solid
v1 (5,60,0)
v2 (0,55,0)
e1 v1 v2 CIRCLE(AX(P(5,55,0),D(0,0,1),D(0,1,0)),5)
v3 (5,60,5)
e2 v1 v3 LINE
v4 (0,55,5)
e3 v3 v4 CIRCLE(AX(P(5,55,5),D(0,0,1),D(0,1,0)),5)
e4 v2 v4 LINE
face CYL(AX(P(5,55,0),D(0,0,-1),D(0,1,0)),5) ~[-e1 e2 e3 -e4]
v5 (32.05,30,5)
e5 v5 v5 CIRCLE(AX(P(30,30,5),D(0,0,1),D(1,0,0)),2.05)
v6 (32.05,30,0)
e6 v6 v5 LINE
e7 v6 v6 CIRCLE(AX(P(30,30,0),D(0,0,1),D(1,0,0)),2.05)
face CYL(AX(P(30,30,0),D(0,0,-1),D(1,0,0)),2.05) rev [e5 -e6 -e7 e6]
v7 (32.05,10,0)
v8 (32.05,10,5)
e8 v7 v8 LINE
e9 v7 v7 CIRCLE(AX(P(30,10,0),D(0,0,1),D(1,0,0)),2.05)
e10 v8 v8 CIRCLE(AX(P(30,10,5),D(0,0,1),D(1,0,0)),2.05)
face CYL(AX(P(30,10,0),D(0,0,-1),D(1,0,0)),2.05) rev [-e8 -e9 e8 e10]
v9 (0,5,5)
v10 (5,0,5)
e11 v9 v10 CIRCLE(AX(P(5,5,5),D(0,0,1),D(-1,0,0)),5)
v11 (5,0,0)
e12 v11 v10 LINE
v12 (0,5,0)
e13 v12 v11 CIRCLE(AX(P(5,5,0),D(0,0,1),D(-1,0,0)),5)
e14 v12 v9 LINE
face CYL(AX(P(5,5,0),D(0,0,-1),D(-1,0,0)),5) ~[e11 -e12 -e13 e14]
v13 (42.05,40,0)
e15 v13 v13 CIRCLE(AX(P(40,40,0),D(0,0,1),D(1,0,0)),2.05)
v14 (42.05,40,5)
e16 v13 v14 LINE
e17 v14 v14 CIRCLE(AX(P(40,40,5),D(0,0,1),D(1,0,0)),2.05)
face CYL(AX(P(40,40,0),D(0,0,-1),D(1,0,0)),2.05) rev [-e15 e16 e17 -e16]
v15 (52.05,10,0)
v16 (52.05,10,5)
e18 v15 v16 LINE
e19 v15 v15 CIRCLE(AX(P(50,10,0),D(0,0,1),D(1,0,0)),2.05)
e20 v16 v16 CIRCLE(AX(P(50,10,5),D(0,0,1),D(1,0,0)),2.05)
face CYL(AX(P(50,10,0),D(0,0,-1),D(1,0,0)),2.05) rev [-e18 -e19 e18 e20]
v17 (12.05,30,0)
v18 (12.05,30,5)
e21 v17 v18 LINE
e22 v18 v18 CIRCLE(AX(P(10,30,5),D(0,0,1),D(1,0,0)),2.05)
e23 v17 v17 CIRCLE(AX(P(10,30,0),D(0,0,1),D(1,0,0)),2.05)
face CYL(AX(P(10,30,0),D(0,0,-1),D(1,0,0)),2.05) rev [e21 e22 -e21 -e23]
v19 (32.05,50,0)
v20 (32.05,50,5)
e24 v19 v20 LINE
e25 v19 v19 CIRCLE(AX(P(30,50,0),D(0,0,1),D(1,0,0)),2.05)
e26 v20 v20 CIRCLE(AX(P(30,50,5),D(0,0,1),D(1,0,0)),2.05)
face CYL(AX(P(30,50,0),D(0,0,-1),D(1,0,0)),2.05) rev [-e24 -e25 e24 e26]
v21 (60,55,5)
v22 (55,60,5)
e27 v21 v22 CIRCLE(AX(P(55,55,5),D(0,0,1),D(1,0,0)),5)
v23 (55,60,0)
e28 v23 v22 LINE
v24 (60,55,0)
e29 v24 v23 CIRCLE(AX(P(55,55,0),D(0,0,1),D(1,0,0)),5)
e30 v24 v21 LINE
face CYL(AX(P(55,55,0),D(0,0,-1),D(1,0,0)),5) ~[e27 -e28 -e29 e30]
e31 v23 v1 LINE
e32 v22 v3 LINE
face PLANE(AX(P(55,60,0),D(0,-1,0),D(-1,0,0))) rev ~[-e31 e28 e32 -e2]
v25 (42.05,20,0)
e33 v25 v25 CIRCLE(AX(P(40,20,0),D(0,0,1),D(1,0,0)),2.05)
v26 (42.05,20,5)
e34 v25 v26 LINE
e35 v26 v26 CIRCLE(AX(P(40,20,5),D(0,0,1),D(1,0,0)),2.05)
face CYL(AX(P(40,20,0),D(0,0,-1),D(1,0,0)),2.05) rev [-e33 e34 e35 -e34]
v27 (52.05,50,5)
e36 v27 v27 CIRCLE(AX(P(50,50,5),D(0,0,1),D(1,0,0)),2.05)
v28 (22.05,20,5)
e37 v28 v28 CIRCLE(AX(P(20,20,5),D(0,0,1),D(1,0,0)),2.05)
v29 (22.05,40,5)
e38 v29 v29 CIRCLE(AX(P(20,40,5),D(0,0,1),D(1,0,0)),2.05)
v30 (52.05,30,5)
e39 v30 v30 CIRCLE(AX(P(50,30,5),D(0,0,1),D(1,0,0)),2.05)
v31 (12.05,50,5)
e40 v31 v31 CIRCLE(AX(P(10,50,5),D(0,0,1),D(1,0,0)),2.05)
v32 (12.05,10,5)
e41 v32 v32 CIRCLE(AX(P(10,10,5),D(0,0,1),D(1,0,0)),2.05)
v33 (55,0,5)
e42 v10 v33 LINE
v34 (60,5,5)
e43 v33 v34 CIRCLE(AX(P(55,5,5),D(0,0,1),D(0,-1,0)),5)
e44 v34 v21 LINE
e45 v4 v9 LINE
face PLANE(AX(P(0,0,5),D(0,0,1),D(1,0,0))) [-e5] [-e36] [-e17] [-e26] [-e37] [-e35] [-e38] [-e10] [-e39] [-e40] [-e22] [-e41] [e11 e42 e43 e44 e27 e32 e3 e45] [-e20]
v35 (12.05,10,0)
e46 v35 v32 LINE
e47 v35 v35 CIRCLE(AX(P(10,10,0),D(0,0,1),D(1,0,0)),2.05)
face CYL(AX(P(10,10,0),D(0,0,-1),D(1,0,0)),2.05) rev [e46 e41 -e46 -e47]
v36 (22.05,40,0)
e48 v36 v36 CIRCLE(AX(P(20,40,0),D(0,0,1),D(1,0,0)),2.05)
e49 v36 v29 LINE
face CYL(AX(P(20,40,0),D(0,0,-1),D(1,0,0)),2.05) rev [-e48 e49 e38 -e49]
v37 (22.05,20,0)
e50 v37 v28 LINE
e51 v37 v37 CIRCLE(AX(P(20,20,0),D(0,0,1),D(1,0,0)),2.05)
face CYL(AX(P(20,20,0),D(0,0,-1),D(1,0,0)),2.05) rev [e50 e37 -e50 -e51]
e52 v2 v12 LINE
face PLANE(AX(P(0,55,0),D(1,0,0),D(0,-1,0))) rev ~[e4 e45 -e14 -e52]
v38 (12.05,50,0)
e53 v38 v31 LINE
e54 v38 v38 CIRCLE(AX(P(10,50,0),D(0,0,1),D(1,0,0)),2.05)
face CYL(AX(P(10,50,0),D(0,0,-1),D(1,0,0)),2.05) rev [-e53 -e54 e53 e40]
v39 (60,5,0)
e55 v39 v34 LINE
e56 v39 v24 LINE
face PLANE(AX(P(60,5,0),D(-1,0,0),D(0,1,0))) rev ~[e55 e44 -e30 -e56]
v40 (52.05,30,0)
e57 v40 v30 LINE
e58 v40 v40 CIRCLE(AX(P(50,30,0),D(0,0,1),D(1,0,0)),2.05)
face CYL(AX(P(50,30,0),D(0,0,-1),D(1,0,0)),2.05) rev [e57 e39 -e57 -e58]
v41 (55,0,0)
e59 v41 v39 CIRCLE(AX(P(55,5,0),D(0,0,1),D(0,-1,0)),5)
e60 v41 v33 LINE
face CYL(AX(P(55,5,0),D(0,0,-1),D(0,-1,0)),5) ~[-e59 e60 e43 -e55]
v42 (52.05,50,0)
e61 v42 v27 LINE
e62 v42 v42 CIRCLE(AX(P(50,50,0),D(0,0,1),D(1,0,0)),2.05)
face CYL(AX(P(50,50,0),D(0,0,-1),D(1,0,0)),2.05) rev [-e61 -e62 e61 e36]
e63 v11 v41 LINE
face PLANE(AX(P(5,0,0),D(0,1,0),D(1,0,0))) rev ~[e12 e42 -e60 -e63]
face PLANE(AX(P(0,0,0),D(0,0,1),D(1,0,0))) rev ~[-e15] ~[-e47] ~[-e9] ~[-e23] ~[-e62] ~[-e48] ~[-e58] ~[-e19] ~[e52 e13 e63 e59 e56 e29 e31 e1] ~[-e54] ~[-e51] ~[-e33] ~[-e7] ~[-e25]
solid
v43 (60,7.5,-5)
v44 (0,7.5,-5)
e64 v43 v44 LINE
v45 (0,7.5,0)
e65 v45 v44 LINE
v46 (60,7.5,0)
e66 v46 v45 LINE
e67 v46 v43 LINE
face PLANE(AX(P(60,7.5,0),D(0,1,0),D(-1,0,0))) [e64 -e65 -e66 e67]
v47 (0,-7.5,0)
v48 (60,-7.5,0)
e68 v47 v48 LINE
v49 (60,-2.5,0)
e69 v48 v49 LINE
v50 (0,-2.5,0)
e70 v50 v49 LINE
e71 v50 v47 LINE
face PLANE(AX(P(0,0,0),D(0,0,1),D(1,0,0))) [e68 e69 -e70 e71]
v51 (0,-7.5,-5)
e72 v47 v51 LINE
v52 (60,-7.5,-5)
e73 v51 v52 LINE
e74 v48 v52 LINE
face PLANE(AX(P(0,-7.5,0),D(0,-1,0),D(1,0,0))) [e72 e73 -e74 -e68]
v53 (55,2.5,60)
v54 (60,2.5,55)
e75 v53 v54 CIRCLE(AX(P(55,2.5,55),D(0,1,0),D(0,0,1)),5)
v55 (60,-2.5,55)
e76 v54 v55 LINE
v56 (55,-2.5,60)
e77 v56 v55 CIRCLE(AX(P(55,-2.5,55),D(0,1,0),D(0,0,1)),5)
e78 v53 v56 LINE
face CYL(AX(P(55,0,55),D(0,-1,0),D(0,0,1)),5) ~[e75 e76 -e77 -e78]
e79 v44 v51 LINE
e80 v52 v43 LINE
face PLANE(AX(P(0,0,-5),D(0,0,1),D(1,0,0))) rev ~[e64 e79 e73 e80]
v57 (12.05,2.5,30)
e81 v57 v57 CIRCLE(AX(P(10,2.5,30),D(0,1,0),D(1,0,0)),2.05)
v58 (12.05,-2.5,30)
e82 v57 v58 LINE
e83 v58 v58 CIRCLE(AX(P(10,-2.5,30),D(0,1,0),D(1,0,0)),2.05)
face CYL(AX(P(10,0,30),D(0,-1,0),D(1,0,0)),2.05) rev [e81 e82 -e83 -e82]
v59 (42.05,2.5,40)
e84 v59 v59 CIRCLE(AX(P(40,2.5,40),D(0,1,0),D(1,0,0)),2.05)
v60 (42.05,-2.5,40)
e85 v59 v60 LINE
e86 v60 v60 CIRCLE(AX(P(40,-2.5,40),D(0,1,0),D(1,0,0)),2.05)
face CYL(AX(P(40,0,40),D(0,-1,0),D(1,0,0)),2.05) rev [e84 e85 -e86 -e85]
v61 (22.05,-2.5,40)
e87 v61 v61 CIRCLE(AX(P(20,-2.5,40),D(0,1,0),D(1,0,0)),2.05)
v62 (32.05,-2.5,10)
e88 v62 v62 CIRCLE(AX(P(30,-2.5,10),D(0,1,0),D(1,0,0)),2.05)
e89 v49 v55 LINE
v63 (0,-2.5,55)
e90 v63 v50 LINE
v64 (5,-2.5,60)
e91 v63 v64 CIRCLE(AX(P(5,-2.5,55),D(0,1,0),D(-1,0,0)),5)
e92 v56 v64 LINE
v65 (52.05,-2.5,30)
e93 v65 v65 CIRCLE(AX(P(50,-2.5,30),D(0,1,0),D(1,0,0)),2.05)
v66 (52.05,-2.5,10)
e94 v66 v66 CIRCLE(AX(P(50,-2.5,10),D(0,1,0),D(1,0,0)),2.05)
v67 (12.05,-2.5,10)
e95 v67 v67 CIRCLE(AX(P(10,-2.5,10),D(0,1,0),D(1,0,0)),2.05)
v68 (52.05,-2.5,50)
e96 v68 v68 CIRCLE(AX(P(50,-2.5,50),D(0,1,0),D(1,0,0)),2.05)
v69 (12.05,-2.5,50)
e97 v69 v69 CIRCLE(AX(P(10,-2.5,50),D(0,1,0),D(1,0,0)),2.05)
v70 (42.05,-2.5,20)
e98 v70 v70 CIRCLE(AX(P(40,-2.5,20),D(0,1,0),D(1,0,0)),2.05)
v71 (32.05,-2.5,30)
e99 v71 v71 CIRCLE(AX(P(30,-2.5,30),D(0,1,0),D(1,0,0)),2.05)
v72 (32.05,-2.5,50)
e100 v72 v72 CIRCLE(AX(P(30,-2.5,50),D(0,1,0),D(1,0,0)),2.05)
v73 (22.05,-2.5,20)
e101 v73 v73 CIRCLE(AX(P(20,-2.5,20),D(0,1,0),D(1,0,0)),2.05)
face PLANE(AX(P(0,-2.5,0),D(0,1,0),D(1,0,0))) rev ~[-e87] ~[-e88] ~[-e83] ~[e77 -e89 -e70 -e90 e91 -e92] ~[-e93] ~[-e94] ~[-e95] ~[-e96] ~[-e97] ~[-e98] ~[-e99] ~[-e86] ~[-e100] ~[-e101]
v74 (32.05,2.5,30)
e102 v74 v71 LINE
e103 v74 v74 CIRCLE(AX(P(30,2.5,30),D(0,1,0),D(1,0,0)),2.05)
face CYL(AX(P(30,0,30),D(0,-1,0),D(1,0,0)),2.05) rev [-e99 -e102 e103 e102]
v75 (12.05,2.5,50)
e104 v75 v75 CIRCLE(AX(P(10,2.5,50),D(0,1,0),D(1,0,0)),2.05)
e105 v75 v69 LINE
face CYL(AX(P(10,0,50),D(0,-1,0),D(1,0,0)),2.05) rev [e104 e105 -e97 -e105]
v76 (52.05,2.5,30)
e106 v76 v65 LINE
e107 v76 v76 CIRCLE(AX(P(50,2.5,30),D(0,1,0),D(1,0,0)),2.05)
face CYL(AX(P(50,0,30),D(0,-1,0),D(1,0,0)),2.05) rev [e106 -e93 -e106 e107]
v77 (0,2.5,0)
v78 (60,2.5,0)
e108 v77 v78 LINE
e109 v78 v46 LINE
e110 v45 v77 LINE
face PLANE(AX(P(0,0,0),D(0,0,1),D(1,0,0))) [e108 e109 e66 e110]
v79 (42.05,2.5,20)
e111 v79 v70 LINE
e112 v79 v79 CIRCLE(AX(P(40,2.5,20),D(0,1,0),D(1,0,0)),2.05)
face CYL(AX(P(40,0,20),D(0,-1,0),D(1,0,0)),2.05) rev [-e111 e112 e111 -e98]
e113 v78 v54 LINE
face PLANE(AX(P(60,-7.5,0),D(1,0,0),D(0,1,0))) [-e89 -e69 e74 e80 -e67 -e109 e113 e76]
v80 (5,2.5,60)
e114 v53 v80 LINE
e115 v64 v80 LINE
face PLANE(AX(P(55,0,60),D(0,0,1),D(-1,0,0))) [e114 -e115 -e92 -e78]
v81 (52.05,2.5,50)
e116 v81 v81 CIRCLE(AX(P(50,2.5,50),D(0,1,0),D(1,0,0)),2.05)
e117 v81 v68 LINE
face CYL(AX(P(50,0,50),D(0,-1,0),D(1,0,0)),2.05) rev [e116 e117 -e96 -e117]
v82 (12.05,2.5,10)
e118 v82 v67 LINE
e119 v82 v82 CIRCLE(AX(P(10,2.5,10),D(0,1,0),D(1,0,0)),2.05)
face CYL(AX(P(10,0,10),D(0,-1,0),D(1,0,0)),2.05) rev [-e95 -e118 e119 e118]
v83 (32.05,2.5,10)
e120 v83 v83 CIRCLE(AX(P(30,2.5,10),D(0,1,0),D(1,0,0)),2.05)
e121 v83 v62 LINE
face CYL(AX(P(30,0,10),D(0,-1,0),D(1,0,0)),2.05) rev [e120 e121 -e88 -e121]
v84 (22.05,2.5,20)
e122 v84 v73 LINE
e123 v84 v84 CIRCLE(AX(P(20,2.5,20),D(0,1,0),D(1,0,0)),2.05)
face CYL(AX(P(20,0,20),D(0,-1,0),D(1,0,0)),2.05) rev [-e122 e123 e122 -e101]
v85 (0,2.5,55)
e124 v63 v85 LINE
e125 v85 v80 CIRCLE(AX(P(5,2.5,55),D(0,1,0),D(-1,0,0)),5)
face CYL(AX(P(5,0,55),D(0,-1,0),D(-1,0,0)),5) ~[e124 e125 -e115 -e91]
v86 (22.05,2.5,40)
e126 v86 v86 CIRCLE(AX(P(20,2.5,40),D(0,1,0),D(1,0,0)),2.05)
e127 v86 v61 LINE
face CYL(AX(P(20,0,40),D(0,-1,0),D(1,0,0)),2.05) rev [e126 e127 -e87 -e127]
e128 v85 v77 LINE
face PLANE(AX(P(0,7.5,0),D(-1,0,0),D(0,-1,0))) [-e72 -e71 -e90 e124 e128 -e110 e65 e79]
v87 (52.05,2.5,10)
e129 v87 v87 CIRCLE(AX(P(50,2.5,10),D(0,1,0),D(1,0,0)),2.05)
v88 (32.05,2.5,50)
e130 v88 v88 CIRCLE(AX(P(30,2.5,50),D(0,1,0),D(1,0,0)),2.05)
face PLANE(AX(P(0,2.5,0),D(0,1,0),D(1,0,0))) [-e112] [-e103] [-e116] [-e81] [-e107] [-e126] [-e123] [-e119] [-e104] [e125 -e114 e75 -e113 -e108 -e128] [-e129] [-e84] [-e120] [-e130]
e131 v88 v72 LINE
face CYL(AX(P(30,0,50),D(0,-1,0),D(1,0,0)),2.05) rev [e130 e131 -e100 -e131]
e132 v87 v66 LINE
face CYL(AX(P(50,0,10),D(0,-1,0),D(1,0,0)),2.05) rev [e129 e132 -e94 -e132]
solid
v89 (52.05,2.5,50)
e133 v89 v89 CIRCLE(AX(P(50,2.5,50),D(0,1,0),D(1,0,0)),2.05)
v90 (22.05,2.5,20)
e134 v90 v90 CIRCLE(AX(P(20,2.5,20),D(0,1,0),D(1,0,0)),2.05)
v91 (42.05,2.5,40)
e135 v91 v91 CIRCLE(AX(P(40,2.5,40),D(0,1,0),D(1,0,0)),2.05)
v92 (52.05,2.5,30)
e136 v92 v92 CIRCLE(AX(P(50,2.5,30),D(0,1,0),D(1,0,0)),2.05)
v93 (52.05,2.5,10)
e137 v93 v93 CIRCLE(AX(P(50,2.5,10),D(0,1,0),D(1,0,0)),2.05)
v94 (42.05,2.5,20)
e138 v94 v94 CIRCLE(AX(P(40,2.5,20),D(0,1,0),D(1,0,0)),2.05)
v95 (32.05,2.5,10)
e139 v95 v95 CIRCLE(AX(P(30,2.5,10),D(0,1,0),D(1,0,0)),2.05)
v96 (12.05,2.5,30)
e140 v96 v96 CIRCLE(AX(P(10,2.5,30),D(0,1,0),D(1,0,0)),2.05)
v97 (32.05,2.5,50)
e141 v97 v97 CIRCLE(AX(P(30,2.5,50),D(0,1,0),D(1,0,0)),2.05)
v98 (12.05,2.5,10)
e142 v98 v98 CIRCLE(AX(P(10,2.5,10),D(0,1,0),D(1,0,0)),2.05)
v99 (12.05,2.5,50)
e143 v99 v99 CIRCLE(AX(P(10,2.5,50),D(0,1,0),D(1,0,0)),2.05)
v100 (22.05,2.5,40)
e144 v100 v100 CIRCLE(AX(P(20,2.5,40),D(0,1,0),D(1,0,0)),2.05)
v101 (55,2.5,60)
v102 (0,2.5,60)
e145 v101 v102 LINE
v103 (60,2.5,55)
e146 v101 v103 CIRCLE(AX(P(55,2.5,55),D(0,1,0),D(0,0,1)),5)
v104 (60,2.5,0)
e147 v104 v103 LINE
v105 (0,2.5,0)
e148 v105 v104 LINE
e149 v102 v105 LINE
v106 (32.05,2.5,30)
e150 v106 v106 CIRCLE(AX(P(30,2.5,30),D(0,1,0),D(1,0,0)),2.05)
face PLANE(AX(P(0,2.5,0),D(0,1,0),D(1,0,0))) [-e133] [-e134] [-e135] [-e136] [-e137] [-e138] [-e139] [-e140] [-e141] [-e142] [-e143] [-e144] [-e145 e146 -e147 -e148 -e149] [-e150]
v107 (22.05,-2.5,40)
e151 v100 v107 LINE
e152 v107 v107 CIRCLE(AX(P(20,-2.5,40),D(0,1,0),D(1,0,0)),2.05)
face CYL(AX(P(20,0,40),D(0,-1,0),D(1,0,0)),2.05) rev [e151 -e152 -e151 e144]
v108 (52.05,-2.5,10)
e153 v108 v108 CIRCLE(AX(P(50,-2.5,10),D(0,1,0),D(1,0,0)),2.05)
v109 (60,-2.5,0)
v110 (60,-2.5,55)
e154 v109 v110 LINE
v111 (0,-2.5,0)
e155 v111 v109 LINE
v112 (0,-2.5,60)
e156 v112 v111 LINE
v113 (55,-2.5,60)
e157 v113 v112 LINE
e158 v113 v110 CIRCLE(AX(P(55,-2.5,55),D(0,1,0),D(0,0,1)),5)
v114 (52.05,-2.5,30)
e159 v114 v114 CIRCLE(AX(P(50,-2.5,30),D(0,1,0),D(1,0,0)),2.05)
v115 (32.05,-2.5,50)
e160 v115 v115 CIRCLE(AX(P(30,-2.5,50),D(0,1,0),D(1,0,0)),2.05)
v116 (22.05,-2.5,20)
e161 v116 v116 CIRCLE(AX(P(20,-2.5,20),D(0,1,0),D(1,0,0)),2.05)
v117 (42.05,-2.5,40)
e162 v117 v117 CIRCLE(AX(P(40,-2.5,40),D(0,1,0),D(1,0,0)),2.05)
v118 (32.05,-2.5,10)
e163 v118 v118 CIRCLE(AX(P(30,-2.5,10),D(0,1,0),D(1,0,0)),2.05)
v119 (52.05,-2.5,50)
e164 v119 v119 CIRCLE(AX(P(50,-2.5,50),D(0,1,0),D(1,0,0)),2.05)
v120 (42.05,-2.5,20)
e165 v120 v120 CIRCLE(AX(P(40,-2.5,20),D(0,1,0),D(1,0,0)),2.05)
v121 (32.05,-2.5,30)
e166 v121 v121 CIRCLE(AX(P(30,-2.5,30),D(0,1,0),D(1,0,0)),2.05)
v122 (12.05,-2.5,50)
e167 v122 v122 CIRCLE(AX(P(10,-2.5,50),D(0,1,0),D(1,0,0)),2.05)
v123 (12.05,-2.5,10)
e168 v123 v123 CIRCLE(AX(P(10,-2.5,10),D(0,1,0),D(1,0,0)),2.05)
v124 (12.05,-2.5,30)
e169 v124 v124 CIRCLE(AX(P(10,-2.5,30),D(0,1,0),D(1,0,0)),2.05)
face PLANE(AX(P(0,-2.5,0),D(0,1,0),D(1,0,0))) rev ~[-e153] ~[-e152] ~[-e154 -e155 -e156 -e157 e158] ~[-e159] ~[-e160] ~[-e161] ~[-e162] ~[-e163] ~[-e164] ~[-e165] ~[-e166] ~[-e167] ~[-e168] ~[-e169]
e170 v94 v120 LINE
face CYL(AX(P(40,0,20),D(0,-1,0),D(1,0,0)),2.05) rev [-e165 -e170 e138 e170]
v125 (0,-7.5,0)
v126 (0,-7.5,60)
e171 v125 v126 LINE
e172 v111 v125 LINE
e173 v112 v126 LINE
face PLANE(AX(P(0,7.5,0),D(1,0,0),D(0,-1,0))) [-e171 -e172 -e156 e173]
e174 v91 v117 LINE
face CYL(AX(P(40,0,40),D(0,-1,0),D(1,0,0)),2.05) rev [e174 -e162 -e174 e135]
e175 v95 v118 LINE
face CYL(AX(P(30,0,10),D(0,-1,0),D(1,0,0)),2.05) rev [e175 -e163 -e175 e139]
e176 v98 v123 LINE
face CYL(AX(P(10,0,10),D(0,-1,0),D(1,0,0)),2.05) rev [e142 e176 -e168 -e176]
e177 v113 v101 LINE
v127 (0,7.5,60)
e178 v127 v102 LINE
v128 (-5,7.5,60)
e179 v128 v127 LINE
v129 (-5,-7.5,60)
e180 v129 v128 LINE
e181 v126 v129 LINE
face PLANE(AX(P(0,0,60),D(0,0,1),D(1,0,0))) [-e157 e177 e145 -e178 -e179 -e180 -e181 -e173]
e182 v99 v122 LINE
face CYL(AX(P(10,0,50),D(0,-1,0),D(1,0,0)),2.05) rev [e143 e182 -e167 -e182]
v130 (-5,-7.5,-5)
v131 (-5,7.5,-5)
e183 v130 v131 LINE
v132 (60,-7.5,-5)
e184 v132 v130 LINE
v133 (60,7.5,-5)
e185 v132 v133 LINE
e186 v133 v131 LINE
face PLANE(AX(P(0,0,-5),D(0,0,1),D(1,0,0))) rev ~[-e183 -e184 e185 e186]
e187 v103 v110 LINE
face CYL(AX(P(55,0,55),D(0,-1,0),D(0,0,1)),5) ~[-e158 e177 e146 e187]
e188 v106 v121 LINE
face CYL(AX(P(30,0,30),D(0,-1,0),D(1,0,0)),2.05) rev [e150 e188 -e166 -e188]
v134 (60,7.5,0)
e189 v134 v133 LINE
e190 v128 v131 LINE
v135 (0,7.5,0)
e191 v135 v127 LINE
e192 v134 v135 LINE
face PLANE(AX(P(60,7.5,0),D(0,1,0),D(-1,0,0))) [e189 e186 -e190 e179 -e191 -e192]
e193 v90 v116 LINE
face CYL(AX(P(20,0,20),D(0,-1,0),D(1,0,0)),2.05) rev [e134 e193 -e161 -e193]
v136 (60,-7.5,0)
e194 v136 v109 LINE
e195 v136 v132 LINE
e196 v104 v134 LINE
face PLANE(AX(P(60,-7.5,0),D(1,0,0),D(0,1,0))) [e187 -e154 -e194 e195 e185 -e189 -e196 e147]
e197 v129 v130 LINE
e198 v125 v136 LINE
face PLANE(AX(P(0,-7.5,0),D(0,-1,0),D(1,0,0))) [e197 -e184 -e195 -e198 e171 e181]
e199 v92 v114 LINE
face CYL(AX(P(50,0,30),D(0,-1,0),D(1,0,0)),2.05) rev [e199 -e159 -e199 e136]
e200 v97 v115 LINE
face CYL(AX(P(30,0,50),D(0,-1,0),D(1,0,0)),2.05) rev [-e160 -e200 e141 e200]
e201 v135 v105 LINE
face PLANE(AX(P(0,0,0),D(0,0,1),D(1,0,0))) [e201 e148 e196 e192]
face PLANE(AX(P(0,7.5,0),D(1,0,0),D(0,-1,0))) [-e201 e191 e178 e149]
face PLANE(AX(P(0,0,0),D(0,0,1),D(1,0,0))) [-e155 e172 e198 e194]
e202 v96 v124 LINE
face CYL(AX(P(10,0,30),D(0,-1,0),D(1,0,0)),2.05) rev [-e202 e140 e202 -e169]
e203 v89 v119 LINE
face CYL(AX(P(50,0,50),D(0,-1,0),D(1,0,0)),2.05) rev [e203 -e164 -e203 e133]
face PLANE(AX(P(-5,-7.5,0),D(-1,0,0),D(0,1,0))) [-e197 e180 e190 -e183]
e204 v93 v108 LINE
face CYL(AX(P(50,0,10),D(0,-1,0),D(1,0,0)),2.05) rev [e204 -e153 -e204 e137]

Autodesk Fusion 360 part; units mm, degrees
sketch "Sketch1" plane through (0, 0, 0) normal (0, 0, 1) x (1, 0, 0) in component "inside"
  line L0 (5, 0) -> (55, 0)
  line L1 (60, 5) -> (60, 55)
  line L2 (55, 60) -> (5, 60)
  line L3 (0, 55) -> (0, 5)
  circle A0 centre (10, 10) radius 2.05
  circle A1 centre (30, 10) radius 2.05
  circle A2 centre (10, 30) radius 2.05
  circle A3 centre (30, 30) radius 2.05
  circle A4 centre (50, 10) radius 2.05
  circle A5 centre (50, 30) radius 2.05
  circle A6 centre (20, 40) radius 2.05
  circle A7 centre (40, 40) radius 2.05
  circle A8 centre (10, 50) radius 2.05
  circle A9 centre (30, 50) radius 2.05
  circle A10 centre (50, 50) radius 2.05
  arc A11 (5, 60) -> (0, 55) centre (5, 55) ccw
  arc A12 (60, 55) -> (55, 60) centre (55, 55) ccw
  arc A13 (55, 0) -> (60, 5) centre (55, 5) ccw
  arc A14 (0, 5) -> (5, 0) centre (5, 5) ccw
  circle A15 centre (10, 20) radius 2.05
  circle A16 centre (30, 20) radius 2.05
  circle A17 centre (50, 20) radius 2.05
  circle A18 centre (10, 40) radius 2.05
  circle A19 centre (30, 40) radius 2.05
  circle A20 centre (50, 40) radius 2.05
  circle A21 centre (20, 50) radius 2.05
  circle A22 centre (40, 50) radius 2.05
  circle A23 centre (20, 10) radius 2.05
  circle A24 centre (40, 10) radius 2.05
  circle A25 centre (20, 20) radius 2.05
  circle A26 centre (40, 20) radius 2.05
  circle A27 centre (20, 30) radius 2.05
  circle A28 centre (40, 30) radius 2.05
  dimension "d6" = 60
  dimension "d7" = 60
  dimension "d9" = 4.1
  dimension "d10" = 10
  dimension "d11" = 10
  dimension "d14" = 10
  dimension "d15" = 10
  dimension "d17" = 5
  dimension "d18" = 5
  dimension "d19" = 5
  dimension "d20" = 5
extrude "Extrude1" add sketch "Sketch1" along normal blind 5 contours L0 L1 L2 L3 A11 A12 A13 A14 | A15 | A16 | A17 | A18 | A19 | A20 | A21 | A22 | A23 | A24 | A27 | A28 makes body 1 in component "inside"
sketch "Sketch1 (2)" plane through (0, 0, 0) normal (0, 0, 1) x (1, 0, 0) in component "inoutside"
  line L0 (0, -7.5) -> (60, -7.5)
  line L1 (60, -7.5) -> (60, 7.5)
  line L2 (60, 7.5) -> (0, 7.5)
  line L3 (0, 7.5) -> (0, -7.5)
  dimension "d23" = 15
  dimension "d24" = 60
sketch "Sketch2" plane through (0, 0, 0) normal (0, 1, 0) x (1, 0, 0) in component "inoutside"
  line L0 (0, 0) -> (60, 0)
  line L1 (60, 0) -> (60, -55)
  line L2 (55, -60) -> (5, -60)
  line L3 (0, -55) -> (0, 0)
  circle A0 centre (10, -10) radius 2.05
  circle A1 centre (20, -10) radius 2.05
  circle A2 centre (30, -10) radius 2.05
  circle A3 centre (40, -10) radius 2.05
  circle A4 centre (50, -10) radius 2.05
  circle A5 centre (10, -20) radius 2.05
  circle A6 centre (20, -20) radius 2.05
  circle A7 centre (30, -20) radius 2.05
  circle A8 centre (40, -20) radius 2.05
  circle A9 centre (50, -20) radius 2.05
  circle A10 centre (10, -30) radius 2.05
  circle A11 centre (20, -30) radius 2.05
  circle A12 centre (30, -30) radius 2.05
  circle A13 centre (40, -30) radius 2.05
  circle A14 centre (50, -30) radius 2.05
  circle A15 centre (10, -40) radius 2.05
  circle A16 centre (20, -40) radius 2.05
  circle A17 centre (30, -40) radius 2.05
  circle A18 centre (40, -40) radius 2.05
  circle A19 centre (50, -40) radius 2.05
  circle A20 centre (10, -50) radius 2.05
  circle A21 centre (20, -50) radius 2.05
  circle A22 centre (30, -50) radius 2.05
  circle A23 centre (40, -50) radius 2.05
  circle A24 centre (50, -50) radius 2.05
  arc A25 (0, -55) -> (5, -60) centre (5, -55) ccw
  arc A26 (55, -60) -> (60, -55) centre (55, -55) ccw
  dimension "d25" = 60
  dimension "d26" = 60
  dimension "d27" = 4.1
  dimension "d28" = 10
  dimension "d29" = 10
  dimension "d32" = 10
  dimension "d34" = 5
  dimension "d35" = 5
extrude "Extrude1'" add sketch "Sketch2" along normal mid plane 5 separate body contours L0 L1 L2 L3 A25 A26 | A1 | A3 | A5 | A7 | A9 | A11 | A13 | A15 | A17 | A19 | A21 | A23 makes body 2 in component "inoutside"
extrude "Extrude2" add sketch "Sketch1 (2)" against normal blind 5 bodies 2 in component "inoutside"
sketch "Sketch1 (3)" plane through (0, 0, 0) normal (0, 0, 1) x (1, 0, 0) in component "outside"
  line L0 (0, -7.5) -> (60, -7.5)
  line L1 (60, -7.5) -> (60, 7.5)
  line L2 (60, 7.5) -> (0, 7.5)
  line L3 (0, 7.5) -> (0, -7.5)
  line L4 (0, -7.5) -> (-5, -7.5)
  line L5 (-5, -7.5) -> (-5, 7.5)
  line L6 (-5, 7.5) -> (0, 7.5)
  line L7 (0, 7.5) -> (0, -7.5)
  dimension "d23_1" = 15
  dimension "d24_1" = 60
  dimension "d40" = 5
sketch "Sketch2 (2)" plane through (0, 0, 0) normal (0, 1, 0) x (1, 0, 0) in component "outside"
  line L0 (0, 0) -> (60, 0)
  line L1 (60, 0) -> (60, -55)
  line L2 (55, -60) -> (0, -60)
  line L3 (0, -60) -> (0, 0)
  circle A0 centre (10, -10) radius 2.05
  circle A1 centre (20, -10) radius 2.05
  circle A2 centre (30, -10) radius 2.05
  circle A3 centre (40, -10) radius 2.05
  circle A4 centre (50, -10) radius 2.05
  circle A5 centre (10, -20) radius 2.05
  circle A6 centre (20, -20) radius 2.05
  circle A7 centre (30, -20) radius 2.05
  circle A8 centre (40, -20) radius 2.05
  circle A9 centre (50, -20) radius 2.05
  circle A10 centre (10, -30) radius 2.05
  circle A11 centre (20, -30) radius 2.05
  circle A12 centre (30, -30) radius 2.05
  circle A13 centre (40, -30) radius 2.05
  circle A14 centre (50, -30) radius 2.05
  circle A15 centre (10, -40) radius 2.05
  circle A16 centre (20, -40) radius 2.05
  circle A17 centre (30, -40) radius 2.05
  circle A18 centre (40, -40) radius 2.05
  circle A19 centre (50, -40) radius 2.05
  circle A20 centre (10, -50) radius 2.05
  circle A21 centre (20, -50) radius 2.05
  circle A22 centre (30, -50) radius 2.05
  circle A23 centre (40, -50) radius 2.05
  circle A24 centre (50, -50) radius 2.05
  arc A25 (55, -60) -> (60, -55) centre (55, -55) ccw
  dimension "d25_1" = 60
  dimension "d26_1" = 60
  dimension "d27_1" = 4.1
  dimension "d28_1" = 10
  dimension "d29_1" = 10
  dimension "d32_1" = 10
  dimension "d35_1" = 5
extrude "Extrude1''" add sketch "Sketch2 (2)" along normal mid plane 5 separate body contours L0 L1 L2 L3 A25 | A1 | A3 | A5 | A7 | A9 | A11 | A13 | A15 | A17 | A19 | A21 | A23 makes body 3 in component "outside"
extrude "Extrude2'" add sketch "Sketch1 (3)" against normal blind 5 contours L0 L1 L2 L3 L7 bodies 3 in component "outside"
extrude "Extrude3" add sketch "Sketch1 (3)" along normal blind 60 and the other way blind 5 contours L3 L4 L5 L6 L7 bodies 3 in component "outside"
component "inside" placed x (1, 0, 0) y (0, 1, 0) z (0, 0, 1) at (0, 0, 0)
component "inoutside" placed x (1, 0, 0) y (0, 1, 0) z (0, 0, 1) at (0, 0, 0)
component "outside" placed x (1, 0, 0) y (0, 1, 0) z (0, 0, 1) at (0, 0, 0)
equation "length = 60 mm"
equation "thickness = 5 mm"
equation "holesDiameter = 4.1 mm"
equation "holesSpacing = 10 mm"
equation "d6 = length"
equation "d7 = length"
equation "roundingRadius = 5 mm"
equation "d9 = holesDiameter"
equation "d10 = holesSpacing"
equation "d11 = holesSpacing"
equation "d12 = nmbrHoles"
equation "d13 = nmbrHoles"
equation "d14 = holesSpacing"
equation "d15 = holesSpacing"
equation "nmbrHoles = 5"
equation "d17 = roundingRadius"
equation "d18 = roundingRadius"
equation "d19 = roundingRadius"
equation "d20 = roundingRadius"
equation "d21 = thickness"
equation "d23 = 3 * thickness"
equation "d24 = length"
equation "d25 = length"
equation "d26 = length"
equation "d27 = holesDiameter"
equation "d28 = holesSpacing"
equation "d29 = holesSpacing"
equation "d30 = nmbrHoles"
equation "d31 = nmbrHoles"
equation "d32 = holesSpacing"
equation "d33 = -holesSpacing"
equation "d34 = roundingRadius"
equation "d35 = roundingRadius"
equation "d36 = thickness / 2"
equation "d38 = -thickness"
equation "d23_1 = 3 * thickness"
equation "d24_1 = length"
equation "d25_1 = length"
equation "d26_1 = length"
equation "d27_1 = holesDiameter"
equation "d28_1 = holesSpacing"
equation "d29_1 = holesSpacing"
equation "d30_1 = nmbrHoles"
equation "d31_1 = nmbrHoles"
equation "d32_1 = holesSpacing"
equation "d33_1 = -holesSpacing"
equation "d35_1 = roundingRadius"
equation "d36_1 = thickness / 2"
equation "d38_1 = -thickness"
equation "d40 = thickness"
equation "d41 = length"
equation "d43 = thickness"
